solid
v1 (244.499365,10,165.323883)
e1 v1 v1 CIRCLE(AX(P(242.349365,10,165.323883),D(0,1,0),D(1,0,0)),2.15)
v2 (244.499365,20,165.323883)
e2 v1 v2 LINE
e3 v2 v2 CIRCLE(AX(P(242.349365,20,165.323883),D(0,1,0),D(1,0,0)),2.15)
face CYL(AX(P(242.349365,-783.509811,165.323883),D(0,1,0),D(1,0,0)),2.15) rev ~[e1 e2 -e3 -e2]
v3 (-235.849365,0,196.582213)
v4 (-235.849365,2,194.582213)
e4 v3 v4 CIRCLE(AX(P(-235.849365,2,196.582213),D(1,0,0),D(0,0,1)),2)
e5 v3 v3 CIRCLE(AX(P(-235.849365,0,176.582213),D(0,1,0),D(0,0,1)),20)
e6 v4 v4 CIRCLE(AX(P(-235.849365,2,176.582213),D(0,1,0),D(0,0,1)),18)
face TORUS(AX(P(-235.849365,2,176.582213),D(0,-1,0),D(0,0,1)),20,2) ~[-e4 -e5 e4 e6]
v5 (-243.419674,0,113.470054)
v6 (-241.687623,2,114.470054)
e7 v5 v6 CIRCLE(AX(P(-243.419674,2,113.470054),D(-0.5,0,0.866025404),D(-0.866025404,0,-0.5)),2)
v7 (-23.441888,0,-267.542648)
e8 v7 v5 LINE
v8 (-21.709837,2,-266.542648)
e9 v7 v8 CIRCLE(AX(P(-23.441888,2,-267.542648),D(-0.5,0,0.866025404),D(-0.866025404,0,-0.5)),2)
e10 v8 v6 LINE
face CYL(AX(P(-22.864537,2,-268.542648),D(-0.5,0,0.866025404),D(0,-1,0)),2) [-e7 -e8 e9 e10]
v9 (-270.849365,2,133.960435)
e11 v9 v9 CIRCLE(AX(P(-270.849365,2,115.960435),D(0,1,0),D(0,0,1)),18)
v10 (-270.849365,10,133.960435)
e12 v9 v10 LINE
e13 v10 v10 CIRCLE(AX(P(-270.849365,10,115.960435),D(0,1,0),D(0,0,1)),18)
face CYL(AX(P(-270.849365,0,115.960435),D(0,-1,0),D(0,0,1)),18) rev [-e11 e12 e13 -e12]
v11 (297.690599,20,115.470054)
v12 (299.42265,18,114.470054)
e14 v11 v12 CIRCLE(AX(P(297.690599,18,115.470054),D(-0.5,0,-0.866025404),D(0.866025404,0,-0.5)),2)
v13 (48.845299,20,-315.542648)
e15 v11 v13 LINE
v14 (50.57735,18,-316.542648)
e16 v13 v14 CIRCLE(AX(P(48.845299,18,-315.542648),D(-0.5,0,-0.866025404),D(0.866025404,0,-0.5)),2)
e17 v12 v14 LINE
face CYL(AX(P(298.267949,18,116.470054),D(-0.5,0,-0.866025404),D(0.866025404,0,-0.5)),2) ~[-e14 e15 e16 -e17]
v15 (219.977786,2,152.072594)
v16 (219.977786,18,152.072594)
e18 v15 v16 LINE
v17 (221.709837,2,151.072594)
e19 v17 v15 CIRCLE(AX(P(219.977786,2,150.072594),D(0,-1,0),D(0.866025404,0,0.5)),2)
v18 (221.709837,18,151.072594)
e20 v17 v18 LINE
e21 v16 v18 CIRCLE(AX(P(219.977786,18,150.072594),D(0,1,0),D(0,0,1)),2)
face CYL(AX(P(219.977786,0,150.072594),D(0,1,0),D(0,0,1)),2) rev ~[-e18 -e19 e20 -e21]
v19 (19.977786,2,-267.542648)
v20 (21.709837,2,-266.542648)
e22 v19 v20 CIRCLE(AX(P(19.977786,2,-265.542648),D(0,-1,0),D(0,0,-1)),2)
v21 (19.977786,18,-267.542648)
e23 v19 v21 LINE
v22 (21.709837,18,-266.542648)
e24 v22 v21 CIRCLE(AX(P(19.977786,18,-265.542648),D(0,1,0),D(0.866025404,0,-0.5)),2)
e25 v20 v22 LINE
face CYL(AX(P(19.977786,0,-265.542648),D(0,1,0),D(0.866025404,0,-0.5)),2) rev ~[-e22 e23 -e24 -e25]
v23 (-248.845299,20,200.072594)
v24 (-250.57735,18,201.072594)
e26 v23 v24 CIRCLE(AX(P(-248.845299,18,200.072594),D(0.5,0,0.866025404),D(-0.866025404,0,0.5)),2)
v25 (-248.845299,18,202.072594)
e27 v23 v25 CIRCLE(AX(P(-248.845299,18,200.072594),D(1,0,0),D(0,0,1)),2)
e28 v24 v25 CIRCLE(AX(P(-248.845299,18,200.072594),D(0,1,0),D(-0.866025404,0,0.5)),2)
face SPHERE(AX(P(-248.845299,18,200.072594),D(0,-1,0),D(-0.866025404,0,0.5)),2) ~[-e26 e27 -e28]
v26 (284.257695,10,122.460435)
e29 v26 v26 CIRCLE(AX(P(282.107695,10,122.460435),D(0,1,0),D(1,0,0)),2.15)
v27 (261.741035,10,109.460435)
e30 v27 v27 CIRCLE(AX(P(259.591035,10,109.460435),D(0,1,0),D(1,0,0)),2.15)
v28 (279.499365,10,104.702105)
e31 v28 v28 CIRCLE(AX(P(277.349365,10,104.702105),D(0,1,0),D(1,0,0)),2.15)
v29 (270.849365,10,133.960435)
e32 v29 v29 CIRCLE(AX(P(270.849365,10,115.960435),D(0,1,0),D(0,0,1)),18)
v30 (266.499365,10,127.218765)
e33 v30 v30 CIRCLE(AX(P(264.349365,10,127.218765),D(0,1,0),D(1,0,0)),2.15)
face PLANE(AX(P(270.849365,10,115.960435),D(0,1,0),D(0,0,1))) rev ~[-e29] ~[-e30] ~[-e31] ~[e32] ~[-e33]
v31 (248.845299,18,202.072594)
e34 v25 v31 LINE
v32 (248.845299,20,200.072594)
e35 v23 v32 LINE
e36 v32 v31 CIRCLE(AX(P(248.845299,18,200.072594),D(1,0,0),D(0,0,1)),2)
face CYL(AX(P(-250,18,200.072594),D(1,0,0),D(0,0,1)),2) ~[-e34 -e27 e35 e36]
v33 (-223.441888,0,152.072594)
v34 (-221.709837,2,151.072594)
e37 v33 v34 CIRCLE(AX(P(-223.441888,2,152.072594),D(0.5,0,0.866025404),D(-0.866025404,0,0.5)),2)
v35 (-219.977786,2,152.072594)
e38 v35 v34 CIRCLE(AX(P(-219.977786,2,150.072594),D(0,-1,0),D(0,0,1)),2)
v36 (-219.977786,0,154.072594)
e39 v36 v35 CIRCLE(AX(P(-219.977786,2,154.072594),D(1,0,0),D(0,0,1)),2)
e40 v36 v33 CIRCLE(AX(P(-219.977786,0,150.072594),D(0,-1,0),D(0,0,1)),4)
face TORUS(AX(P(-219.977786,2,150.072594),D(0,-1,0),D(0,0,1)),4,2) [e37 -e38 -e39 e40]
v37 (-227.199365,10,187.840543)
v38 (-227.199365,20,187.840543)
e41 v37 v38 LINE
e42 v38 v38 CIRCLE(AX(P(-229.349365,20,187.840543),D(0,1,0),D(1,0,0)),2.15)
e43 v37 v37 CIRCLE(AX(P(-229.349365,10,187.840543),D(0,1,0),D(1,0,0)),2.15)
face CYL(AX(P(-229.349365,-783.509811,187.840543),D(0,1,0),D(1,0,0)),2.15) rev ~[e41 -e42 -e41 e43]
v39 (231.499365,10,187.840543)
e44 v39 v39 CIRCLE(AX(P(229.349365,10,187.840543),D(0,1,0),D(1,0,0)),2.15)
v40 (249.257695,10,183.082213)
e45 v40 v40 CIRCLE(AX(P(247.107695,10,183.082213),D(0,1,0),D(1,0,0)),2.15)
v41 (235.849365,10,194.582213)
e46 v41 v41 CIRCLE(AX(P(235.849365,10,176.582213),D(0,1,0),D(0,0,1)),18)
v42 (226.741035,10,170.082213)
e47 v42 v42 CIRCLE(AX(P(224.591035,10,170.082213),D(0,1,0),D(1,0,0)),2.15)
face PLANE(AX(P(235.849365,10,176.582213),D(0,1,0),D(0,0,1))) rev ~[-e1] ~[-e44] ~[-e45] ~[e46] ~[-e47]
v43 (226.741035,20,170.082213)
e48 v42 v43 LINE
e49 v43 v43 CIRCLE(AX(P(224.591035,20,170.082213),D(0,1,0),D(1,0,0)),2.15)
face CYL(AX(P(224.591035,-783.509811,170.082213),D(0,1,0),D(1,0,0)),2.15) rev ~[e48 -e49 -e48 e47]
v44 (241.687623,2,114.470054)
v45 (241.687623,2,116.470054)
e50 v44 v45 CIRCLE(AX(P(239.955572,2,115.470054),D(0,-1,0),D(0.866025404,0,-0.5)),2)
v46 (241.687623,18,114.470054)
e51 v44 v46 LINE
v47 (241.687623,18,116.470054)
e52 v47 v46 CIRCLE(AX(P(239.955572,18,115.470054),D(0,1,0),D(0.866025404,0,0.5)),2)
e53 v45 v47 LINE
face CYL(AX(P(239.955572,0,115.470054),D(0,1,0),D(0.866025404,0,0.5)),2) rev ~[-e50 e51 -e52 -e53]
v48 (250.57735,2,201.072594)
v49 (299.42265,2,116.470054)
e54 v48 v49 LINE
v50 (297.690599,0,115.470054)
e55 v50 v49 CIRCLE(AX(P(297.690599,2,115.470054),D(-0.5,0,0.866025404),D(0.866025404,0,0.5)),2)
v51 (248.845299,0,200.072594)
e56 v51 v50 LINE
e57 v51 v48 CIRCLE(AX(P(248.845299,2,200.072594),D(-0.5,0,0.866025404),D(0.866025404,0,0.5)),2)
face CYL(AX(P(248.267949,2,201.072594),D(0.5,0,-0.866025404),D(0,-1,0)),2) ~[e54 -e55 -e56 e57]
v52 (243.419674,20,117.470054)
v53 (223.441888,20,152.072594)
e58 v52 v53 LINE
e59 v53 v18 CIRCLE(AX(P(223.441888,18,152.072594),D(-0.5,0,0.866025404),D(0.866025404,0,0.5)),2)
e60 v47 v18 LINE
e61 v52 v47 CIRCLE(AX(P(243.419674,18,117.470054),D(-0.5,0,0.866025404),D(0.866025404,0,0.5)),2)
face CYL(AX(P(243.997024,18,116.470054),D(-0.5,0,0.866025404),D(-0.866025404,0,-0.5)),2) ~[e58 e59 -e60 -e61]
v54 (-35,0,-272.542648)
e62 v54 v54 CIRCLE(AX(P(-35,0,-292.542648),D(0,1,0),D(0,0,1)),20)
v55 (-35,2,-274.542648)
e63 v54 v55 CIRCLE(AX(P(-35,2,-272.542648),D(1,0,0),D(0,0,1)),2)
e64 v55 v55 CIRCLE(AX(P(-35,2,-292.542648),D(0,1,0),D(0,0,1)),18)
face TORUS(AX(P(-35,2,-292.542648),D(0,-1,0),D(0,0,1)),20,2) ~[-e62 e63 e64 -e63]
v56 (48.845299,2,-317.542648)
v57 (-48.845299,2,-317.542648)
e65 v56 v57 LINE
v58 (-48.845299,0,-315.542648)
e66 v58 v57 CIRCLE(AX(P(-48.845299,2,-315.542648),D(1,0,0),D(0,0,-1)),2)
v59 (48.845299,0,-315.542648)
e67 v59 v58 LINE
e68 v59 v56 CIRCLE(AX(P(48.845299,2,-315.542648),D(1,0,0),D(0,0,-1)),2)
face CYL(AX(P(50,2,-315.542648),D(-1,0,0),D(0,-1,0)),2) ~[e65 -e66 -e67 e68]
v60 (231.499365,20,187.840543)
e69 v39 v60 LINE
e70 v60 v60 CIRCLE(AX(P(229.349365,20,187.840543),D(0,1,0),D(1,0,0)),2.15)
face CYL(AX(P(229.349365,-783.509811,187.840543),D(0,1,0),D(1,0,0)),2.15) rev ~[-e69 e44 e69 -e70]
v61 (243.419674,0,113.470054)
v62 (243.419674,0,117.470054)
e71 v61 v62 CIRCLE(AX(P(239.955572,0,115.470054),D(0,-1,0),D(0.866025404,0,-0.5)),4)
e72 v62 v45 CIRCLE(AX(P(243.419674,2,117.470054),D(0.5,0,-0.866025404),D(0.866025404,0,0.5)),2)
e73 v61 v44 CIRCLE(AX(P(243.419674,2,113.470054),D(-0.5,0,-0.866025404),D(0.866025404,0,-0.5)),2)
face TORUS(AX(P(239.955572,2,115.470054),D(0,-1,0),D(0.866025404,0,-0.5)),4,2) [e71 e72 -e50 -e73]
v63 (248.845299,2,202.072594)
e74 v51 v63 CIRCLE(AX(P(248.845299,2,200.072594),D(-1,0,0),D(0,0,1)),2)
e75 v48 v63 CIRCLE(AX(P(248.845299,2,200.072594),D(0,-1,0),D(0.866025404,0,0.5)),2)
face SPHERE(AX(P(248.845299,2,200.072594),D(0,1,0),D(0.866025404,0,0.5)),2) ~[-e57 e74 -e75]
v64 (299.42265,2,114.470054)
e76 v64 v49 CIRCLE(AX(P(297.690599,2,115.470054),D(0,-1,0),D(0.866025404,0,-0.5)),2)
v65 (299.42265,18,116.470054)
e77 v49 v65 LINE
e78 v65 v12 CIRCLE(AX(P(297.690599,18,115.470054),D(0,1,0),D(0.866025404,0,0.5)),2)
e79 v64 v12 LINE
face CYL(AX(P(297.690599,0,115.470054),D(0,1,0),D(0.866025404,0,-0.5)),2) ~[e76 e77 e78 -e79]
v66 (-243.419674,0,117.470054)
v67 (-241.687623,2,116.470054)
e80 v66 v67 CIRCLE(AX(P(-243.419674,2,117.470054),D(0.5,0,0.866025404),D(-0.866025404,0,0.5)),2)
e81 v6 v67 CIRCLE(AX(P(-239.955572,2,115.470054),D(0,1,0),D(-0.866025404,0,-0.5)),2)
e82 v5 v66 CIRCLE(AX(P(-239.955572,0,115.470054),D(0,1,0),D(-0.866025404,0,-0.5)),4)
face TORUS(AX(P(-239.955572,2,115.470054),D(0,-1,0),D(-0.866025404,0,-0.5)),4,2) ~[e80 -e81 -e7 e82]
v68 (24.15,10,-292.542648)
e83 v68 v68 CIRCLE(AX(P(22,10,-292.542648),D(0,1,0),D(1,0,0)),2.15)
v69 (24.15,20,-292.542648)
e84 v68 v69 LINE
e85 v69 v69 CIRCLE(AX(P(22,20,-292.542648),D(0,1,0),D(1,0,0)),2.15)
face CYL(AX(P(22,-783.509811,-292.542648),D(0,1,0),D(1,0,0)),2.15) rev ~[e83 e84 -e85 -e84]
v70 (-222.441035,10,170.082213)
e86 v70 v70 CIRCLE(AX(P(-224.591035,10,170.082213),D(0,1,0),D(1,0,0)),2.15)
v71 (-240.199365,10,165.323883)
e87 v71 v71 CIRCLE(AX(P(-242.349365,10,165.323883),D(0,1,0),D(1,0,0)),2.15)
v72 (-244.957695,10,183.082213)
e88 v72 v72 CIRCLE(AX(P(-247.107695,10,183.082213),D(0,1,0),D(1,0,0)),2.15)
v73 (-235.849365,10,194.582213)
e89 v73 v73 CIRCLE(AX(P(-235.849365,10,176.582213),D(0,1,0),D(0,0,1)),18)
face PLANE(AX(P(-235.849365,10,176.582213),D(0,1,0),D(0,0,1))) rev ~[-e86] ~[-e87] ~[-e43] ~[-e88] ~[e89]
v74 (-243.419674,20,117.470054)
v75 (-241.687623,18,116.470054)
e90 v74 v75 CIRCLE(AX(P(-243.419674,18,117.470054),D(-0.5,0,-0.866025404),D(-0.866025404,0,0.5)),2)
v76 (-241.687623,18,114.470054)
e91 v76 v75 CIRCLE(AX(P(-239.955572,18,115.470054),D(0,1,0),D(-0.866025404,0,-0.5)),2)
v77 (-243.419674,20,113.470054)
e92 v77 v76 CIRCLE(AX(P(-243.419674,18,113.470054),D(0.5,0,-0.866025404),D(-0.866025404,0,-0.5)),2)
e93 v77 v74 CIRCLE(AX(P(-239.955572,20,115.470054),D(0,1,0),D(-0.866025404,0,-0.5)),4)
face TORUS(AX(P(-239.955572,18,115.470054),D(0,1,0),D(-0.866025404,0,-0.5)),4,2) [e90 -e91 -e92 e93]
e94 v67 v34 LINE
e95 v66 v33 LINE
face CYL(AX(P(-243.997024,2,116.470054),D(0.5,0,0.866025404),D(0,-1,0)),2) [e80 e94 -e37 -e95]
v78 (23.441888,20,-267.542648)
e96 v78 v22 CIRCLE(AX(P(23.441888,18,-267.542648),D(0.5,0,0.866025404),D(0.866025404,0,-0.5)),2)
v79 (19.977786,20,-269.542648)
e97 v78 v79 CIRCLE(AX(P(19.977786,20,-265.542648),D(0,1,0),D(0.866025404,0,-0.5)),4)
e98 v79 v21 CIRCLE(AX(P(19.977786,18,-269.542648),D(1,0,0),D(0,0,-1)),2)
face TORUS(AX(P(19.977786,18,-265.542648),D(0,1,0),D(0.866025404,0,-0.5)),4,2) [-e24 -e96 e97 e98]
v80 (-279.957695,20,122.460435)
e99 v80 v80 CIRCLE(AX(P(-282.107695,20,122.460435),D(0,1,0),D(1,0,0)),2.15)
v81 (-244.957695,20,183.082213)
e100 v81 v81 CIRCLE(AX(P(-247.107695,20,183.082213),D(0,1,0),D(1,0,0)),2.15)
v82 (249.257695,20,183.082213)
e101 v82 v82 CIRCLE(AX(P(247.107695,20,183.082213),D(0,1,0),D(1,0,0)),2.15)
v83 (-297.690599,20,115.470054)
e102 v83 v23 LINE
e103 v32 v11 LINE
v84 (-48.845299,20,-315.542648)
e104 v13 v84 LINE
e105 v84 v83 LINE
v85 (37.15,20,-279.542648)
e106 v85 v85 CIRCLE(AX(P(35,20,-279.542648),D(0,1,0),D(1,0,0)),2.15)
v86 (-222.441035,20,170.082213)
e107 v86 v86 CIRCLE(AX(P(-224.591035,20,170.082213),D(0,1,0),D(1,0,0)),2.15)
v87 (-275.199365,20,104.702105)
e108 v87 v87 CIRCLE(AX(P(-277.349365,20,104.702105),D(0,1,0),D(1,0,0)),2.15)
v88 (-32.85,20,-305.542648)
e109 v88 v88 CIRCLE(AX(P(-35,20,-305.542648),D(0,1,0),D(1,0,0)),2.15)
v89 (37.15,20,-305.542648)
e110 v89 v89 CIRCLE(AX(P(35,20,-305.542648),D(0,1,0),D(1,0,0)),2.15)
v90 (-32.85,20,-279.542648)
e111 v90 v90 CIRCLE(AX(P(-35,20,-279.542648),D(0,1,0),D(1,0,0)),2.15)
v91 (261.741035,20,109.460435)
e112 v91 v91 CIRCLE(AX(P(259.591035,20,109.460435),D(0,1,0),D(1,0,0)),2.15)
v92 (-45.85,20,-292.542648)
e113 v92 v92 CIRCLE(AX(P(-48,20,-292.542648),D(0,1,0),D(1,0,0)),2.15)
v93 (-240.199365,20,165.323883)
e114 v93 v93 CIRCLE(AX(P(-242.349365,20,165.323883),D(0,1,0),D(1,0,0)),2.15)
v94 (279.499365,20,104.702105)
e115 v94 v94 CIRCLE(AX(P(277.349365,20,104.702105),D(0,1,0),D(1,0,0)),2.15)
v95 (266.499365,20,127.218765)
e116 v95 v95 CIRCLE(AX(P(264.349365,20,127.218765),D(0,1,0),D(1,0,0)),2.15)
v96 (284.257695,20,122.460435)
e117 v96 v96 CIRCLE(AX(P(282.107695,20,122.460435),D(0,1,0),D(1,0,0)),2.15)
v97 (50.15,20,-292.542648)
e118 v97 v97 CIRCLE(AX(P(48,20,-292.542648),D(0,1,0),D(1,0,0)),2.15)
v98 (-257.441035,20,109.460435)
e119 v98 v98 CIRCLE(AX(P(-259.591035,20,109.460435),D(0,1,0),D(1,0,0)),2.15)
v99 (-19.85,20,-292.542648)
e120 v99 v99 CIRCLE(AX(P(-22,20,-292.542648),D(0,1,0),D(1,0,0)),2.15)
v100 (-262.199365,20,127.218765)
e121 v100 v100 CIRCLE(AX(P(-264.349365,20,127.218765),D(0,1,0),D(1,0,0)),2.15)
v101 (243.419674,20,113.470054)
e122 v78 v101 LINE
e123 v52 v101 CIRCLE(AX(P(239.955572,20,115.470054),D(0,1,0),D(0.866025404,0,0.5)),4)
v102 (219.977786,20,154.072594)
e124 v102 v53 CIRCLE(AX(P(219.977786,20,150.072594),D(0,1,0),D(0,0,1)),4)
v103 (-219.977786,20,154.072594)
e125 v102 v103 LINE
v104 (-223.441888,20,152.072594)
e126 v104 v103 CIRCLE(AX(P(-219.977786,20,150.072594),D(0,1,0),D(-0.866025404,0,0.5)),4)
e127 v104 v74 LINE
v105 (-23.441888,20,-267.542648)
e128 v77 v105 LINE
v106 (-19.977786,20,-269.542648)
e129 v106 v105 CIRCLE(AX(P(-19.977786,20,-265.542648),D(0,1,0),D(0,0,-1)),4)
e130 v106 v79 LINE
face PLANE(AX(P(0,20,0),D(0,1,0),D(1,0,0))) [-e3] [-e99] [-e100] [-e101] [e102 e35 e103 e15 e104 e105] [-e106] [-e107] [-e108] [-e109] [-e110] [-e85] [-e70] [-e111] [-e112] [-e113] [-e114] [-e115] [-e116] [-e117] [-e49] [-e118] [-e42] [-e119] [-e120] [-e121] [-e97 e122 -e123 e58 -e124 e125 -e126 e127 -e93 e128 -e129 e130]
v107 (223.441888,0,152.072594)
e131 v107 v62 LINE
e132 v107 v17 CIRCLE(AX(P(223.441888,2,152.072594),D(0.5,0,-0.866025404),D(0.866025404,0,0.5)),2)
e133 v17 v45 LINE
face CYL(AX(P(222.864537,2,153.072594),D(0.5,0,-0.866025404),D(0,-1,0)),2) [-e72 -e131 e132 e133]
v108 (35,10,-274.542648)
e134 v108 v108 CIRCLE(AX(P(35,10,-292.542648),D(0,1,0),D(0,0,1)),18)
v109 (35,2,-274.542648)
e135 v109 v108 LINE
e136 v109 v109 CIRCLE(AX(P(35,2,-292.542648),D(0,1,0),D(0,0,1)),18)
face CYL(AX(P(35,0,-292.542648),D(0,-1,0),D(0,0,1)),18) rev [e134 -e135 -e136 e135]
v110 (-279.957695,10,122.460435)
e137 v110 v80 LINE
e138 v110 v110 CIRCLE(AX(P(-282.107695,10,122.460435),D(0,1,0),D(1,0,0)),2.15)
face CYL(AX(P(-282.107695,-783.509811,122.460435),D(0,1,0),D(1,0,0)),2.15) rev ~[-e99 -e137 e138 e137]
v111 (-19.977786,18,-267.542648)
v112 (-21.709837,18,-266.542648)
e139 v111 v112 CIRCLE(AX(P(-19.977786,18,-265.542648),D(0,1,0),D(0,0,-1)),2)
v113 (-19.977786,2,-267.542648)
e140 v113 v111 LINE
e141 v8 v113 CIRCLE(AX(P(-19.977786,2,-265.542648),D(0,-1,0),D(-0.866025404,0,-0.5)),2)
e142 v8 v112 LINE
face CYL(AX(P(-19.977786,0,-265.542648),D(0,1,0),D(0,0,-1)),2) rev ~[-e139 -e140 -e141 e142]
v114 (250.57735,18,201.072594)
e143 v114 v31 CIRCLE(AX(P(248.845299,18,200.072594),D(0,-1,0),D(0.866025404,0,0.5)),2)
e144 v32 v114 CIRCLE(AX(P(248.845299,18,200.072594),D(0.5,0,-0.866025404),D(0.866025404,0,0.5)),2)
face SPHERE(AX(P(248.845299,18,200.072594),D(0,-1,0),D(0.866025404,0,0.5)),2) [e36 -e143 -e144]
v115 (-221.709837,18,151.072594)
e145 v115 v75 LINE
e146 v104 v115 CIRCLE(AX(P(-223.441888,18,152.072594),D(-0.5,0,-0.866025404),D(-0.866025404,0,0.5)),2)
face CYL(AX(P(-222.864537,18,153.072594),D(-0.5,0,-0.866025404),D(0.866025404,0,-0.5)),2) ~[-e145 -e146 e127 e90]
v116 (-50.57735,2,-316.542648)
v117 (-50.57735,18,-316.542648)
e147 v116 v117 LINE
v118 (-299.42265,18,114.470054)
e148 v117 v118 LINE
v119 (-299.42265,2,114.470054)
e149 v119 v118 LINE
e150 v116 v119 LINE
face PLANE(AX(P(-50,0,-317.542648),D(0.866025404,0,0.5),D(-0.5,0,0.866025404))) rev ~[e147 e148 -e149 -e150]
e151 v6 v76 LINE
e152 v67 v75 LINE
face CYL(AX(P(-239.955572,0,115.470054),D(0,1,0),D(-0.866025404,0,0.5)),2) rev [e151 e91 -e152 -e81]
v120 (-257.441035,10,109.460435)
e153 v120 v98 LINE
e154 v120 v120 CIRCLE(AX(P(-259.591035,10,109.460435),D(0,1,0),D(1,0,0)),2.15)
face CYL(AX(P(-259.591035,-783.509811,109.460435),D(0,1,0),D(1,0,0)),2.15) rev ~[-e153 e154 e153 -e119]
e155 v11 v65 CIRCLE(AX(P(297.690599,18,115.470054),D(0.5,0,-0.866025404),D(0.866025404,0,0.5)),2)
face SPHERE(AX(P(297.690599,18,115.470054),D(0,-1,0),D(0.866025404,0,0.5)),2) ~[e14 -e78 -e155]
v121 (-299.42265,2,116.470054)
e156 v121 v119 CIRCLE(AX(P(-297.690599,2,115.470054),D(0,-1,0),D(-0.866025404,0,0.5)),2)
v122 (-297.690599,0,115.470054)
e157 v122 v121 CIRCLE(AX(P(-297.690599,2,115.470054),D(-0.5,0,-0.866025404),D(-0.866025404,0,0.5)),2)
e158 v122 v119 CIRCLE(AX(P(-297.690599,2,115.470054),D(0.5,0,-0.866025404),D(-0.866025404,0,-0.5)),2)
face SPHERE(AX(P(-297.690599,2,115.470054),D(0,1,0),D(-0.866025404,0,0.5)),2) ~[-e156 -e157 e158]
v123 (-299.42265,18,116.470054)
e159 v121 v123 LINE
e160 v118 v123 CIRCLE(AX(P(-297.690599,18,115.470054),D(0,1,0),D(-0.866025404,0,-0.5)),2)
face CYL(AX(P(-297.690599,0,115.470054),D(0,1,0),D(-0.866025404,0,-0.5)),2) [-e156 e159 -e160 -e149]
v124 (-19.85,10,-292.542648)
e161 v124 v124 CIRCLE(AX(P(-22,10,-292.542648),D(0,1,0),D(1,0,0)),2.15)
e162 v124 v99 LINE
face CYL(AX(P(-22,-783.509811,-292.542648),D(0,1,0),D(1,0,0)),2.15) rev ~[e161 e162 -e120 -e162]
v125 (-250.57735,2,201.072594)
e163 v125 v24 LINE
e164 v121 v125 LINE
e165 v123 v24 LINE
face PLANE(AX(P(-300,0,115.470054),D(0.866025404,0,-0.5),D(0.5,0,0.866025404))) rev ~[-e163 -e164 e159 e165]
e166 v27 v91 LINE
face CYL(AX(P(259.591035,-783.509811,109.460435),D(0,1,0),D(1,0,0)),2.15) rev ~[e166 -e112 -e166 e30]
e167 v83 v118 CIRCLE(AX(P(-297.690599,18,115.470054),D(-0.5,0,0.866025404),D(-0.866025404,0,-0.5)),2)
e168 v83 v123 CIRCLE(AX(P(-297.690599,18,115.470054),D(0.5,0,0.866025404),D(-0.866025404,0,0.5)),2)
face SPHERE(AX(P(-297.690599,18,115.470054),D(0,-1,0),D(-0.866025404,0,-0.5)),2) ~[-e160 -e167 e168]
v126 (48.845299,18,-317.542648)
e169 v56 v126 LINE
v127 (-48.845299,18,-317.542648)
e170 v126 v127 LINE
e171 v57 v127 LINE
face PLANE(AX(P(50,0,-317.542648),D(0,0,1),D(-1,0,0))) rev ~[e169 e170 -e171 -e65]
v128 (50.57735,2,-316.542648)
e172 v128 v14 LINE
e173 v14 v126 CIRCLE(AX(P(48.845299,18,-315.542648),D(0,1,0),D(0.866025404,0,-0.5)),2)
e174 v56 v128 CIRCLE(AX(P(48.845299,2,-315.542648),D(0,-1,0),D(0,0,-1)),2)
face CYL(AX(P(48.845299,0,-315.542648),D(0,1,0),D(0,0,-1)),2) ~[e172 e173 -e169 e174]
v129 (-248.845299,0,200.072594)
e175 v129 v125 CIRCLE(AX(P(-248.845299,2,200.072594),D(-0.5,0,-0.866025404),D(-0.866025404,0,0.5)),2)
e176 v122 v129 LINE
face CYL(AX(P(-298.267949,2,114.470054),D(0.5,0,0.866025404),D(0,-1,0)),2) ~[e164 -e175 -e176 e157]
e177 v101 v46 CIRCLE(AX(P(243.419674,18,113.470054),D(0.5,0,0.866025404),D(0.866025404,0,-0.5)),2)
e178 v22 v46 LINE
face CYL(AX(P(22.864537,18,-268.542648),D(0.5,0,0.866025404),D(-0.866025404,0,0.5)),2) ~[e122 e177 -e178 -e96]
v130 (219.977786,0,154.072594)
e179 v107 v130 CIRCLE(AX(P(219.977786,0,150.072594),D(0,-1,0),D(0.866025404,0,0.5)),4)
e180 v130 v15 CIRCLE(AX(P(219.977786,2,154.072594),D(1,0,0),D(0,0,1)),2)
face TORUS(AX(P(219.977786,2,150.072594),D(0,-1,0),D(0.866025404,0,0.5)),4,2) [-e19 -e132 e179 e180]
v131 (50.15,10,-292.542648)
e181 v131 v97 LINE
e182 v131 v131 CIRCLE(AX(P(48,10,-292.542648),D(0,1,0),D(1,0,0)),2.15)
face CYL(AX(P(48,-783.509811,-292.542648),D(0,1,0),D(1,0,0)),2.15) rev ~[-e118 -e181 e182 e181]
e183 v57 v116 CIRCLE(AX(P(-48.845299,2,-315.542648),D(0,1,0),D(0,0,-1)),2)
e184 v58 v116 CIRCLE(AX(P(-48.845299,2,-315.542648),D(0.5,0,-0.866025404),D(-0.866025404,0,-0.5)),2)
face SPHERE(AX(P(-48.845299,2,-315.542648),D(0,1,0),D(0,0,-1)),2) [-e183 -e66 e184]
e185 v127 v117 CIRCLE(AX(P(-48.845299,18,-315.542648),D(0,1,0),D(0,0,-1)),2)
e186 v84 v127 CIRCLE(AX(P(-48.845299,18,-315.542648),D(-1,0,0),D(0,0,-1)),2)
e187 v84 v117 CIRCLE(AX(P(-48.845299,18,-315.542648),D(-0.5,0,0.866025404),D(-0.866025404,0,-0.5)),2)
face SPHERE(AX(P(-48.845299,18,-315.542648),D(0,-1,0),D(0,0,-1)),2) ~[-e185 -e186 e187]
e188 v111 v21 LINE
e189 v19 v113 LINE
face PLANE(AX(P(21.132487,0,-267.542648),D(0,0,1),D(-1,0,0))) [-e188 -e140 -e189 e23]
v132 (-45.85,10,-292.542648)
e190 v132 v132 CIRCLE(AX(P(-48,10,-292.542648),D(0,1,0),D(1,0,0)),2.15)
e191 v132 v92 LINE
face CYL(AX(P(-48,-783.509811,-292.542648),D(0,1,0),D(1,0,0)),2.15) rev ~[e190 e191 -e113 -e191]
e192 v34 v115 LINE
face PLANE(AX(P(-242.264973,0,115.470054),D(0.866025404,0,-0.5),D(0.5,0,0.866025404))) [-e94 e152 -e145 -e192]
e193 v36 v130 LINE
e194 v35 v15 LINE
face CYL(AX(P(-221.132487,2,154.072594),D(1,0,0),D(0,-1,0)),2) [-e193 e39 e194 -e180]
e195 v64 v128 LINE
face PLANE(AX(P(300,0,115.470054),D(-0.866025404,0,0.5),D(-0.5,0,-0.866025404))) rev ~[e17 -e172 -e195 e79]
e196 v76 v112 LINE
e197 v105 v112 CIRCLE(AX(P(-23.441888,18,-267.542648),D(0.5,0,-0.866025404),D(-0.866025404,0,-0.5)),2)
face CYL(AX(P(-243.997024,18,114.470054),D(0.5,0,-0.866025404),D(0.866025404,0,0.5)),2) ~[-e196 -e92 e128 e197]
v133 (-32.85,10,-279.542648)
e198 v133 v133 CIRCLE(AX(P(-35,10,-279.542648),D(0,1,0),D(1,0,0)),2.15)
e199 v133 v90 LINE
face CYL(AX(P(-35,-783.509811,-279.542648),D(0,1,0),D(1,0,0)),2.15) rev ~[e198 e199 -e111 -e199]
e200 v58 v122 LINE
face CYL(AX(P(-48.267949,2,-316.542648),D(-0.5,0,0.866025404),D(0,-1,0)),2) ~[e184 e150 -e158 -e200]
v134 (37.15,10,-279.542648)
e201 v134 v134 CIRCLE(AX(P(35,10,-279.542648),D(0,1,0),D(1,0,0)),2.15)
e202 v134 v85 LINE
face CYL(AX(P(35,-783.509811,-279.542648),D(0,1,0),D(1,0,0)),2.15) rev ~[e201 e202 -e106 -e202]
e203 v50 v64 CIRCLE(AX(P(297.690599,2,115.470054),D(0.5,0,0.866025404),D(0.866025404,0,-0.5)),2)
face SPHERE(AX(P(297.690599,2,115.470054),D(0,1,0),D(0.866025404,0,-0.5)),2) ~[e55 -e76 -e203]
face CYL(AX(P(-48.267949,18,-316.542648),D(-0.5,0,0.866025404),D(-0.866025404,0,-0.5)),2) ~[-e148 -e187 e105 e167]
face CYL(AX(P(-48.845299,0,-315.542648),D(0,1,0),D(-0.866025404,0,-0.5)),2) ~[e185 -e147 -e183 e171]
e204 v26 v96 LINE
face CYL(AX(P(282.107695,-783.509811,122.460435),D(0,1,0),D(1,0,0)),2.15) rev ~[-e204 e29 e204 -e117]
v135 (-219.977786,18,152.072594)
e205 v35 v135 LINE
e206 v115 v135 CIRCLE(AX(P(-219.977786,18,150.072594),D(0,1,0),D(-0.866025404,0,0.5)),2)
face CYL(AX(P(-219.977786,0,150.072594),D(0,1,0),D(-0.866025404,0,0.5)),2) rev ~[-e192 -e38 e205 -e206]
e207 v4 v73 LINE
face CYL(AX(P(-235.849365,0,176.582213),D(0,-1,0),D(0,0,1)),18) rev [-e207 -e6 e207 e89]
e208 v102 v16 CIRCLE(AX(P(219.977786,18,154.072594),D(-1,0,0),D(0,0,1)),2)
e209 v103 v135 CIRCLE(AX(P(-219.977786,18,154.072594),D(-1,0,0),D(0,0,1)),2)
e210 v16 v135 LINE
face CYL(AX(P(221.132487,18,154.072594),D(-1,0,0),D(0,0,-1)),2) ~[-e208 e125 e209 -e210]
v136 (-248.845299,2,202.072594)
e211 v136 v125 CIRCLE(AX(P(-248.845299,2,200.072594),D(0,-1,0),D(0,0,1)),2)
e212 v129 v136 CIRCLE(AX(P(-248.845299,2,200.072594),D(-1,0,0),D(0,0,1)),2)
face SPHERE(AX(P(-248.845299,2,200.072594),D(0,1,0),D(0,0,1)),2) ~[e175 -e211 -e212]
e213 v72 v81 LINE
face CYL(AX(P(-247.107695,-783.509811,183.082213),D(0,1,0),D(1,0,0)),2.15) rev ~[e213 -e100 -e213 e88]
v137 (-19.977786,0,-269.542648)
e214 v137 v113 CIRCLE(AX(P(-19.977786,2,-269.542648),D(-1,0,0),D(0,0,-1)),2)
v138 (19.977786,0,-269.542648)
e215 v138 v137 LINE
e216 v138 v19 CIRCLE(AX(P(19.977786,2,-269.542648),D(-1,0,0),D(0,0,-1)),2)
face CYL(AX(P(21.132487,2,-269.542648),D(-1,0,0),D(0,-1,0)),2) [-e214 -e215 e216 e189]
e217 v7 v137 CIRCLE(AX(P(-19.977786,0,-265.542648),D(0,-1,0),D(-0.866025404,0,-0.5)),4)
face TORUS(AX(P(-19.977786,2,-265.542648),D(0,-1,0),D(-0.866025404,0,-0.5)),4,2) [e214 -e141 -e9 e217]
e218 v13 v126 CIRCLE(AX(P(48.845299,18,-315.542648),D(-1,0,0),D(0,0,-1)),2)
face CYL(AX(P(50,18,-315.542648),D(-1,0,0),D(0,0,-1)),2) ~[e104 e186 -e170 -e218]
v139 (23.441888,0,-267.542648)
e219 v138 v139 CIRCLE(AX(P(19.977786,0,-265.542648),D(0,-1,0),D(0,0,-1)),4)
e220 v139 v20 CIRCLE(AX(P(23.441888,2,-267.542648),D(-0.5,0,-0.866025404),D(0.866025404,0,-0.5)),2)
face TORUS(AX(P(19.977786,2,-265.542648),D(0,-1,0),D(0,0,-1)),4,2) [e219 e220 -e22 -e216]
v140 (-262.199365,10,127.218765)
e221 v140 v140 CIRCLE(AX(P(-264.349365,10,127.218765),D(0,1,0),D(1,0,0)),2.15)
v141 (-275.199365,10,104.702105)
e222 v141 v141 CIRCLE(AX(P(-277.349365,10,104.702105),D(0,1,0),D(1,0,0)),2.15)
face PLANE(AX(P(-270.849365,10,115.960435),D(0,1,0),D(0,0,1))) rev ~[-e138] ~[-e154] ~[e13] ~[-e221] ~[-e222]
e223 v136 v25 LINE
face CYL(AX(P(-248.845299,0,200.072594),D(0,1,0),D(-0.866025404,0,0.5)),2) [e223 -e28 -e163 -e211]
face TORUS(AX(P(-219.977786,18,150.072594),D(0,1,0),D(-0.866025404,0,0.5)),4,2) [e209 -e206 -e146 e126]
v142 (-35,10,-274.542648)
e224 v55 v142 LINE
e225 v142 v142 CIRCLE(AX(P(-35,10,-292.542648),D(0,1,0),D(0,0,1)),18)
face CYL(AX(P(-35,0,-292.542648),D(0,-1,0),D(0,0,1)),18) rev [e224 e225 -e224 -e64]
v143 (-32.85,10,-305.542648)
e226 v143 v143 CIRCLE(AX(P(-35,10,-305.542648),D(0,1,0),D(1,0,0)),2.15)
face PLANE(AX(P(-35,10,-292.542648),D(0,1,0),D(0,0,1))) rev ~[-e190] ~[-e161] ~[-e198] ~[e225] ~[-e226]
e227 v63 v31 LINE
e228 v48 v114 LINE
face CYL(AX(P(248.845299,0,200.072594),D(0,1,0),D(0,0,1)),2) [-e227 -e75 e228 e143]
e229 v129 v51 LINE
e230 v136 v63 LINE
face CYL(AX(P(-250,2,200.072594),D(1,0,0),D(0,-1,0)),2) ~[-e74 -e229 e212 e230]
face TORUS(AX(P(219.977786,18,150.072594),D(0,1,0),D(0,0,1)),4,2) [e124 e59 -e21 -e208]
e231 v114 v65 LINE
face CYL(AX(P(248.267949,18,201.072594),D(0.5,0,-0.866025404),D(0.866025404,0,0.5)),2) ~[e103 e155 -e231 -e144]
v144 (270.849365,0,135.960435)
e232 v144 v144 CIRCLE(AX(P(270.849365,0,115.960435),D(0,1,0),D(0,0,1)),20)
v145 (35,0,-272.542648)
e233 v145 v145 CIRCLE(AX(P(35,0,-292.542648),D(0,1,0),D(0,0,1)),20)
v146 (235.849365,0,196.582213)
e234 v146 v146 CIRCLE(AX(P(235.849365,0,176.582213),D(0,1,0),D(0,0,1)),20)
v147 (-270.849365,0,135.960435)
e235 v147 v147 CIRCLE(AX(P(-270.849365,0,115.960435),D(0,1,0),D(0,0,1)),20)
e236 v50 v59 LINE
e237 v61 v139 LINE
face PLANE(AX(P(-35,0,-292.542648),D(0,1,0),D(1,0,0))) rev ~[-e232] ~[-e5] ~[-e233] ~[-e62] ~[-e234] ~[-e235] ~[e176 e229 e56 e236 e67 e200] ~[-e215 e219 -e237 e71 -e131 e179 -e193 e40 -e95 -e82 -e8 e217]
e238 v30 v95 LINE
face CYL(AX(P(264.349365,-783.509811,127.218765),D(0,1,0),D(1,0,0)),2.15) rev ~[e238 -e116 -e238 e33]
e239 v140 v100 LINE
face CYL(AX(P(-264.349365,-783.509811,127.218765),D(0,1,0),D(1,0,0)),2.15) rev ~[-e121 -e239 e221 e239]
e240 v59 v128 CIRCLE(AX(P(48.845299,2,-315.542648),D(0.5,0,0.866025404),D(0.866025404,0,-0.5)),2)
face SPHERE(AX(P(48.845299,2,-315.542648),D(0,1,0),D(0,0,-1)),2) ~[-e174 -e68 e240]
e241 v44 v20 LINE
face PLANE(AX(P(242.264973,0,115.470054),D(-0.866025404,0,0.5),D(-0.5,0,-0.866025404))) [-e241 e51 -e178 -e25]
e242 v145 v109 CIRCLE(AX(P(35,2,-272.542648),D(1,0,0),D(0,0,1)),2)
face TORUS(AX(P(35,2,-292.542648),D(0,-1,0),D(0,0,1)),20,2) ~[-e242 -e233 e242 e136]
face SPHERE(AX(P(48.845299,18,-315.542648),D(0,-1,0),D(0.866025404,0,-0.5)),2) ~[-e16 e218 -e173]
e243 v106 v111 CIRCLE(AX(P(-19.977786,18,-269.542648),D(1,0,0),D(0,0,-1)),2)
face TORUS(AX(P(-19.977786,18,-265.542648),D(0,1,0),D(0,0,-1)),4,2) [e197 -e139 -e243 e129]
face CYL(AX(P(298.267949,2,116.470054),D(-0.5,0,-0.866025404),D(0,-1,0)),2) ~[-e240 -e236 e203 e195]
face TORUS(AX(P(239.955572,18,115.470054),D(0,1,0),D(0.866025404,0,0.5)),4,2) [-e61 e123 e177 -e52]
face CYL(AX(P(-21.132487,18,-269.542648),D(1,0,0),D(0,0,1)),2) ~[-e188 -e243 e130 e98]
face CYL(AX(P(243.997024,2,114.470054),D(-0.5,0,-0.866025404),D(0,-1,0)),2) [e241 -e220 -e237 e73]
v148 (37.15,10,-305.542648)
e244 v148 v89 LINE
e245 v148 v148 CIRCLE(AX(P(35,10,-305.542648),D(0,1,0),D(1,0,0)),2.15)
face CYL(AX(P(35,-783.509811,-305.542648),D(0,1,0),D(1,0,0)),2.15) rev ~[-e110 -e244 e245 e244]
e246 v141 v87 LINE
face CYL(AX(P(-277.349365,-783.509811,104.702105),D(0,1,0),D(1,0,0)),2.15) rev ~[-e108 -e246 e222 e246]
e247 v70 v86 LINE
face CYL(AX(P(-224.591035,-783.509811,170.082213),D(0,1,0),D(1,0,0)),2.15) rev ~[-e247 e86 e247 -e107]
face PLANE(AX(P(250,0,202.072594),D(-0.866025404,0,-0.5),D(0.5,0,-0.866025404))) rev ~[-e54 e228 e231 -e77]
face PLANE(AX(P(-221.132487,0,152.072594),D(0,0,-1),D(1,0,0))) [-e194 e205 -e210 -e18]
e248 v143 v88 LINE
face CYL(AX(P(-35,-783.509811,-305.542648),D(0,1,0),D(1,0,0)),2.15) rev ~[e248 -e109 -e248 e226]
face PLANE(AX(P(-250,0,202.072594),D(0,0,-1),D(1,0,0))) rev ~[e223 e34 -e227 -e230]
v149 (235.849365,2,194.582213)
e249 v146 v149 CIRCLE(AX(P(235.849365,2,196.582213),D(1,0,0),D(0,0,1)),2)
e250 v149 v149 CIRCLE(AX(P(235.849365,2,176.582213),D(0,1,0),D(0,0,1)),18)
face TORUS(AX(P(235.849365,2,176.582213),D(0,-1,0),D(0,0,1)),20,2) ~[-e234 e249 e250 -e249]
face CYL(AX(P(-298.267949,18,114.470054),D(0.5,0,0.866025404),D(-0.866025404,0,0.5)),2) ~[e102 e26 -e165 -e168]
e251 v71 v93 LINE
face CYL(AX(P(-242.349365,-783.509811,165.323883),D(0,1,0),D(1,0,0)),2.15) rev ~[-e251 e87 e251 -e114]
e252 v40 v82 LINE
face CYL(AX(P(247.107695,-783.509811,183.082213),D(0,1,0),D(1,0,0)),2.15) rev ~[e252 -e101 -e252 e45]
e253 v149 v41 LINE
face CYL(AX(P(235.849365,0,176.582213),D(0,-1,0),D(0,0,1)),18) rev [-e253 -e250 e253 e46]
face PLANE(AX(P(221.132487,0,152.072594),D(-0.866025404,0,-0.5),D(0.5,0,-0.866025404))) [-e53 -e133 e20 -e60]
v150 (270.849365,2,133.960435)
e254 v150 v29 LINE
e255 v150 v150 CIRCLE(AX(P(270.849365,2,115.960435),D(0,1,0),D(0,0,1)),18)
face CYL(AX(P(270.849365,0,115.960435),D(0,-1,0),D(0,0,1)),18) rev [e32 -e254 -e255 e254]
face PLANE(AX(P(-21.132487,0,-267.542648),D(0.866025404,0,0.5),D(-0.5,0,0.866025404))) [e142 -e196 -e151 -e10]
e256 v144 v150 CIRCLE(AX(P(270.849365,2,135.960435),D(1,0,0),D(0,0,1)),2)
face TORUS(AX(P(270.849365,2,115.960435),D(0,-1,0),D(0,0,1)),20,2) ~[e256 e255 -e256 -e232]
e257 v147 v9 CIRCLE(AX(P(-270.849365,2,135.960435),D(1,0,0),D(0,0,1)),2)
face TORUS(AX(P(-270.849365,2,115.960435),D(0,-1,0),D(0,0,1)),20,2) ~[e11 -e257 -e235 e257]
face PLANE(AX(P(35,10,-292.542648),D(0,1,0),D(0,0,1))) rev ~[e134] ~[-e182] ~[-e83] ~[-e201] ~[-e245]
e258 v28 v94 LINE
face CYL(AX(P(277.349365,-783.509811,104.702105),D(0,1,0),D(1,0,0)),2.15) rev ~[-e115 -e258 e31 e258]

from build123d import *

# Parameters (mm, degrees)
BOSS_EXTRUDE1_DEPTH  = 20
SKETCH1_3_R          = 18
CUT_EXTRUDE1_DEPTH   = 10
CUT_EXTRUDE2_DEPTH   = 438.3023363
FILLET1_R            = 2
M4_CLEARANCE_HOLE1_D = 4.3


with BuildPart() as part:
    # Sketch1 → Boss-Extrude1 (new body)
    with BuildSketch(Plane(origin=(0, 0, 0), x_dir=(1, 0, 0), z_dir=(0, 1, 0))):
        Polygon((50, 317.542648054), (-50, 317.542648054), (-300, -115.470053838), (-250, -202.072594216), (250, -202.072594216), (300, -115.470053838), align=None)
    extrude(amount=BOSS_EXTRUDE1_DEPTH)

    # Sketch1<3> → Cut-Extrude1 (cut)
    with BuildSketch(Plane(origin=(0, 0, 0), x_dir=(1, 0, 0), z_dir=(0, 1, 0))):
        with Locations((-270.849364905, -115.960434895)):
            Circle(SKETCH1_3_R)
        with Locations((-235.849364905, -176.58221316)):
            Circle(SKETCH1_3_R)
        with Locations((-35, 292.542648054)):
            Circle(SKETCH1_3_R)
        with Locations((35, 292.542648054)):
            Circle(SKETCH1_3_R)
        with Locations((270.849364905, -115.960434895)):
            Circle(SKETCH1_3_R)
        with Locations((235.849364905, -176.58221316)):
            Circle(SKETCH1_3_R)
    extrude(amount=CUT_EXTRUDE1_DEPTH, mode=Mode.SUBTRACT)

    # Sketch2 → Cut-Extrude2 (cut, through all)
    with BuildSketch(Plane.XZ):
        Polygon((-242.264973081, 115.470053838), (-221.132486541, 152.072594216), (221.132486541, 152.072594216), (242.264973081, 115.470053838), (21.132486541, -267.542648054), (-21.132486541, -267.542648054), align=None)
    extrude(amount=-CUT_EXTRUDE2_DEPTH, mode=Mode.SUBTRACT)

    # Fillet1
    fillet1_edges = [part.edges().sort_by_distance(p)[0] for p in [
        (0, 20, -317.542648054),
        (175, 20, -101.036297108),
        (275, 20, 158.771324027),
        (0, 20, 202.072594216),
        (-275, 20, 158.771324027),
        (-175, 20, -101.036297108),
        (-231.698729811, 20, 133.771324027),
        (0, 20, 152.072594216),
        (231.698729811, 20, 133.771324027),
        (131.698729811, 20, -76.036297108),
        (0, 20, -267.542648054),
        (-131.698729811, 20, -76.036297108),
        (-53, 0, -292.542648054),
        (252.849364905, 0, 115.960434895),
        (-253.849364905, 0, 176.58221316),
        (-275, 0, 158.771324027),
        (0, 0, 202.072594216),
        (275, 0, 158.771324027),
        (175, 0, -101.036297108),
        (0, 0, -317.542648054),
        (-175, 0, -101.036297108),
        (-288.849364905, 0, 115.960434895),
        (217.849364905, 0, 176.58221316),
        (17, 0, -292.542648054),
        (131.698729811, 0, -76.036297108),
        (231.698729811, 0, 133.771324027),
        (0, 0, 152.072594216),
        (-231.698729811, 0, 133.771324027),
        (-131.698729811, 0, -76.036297108),
        (0, 0, -267.542648054),
        (21.132486541, 10, -267.542648054),
        (-21.132486541, 10, -267.542648054),
        (242.264973081, 10, 115.470053838),
        (221.132486541, 10, 152.072594216),
        (-221.132486541, 10, 152.072594216),
        (-242.264973081, 10, 115.470053838),
        (250, 10, 202.072594216),
        (300, 10, 115.470053838),
        (50, 10, -317.542648054),
        (-50, 10, -317.542648054),
        (-250, 10, 202.072594216),
        (-300, 10, 115.470053838),
    ]]
    fillet(fillet1_edges, radius=FILLET1_R)

    # M4 Clearance Hole1 (through all)
    with Locations(Plane(origin=(0, 10, 0), x_dir=(-1, 0, 0), z_dir=(0, -1, 0))):
        with Locations((-35, 279.542648054), (-35, 305.542648054), (-48, 292.542648054), (-22, 292.542648054), (35, 279.542648054), (35, 305.542648054), (22, 292.542648054), (48, 292.542648054), (264.349364905, -127.218765144), (277.349364905, -104.702104645), (259.591034656, -109.460434895), (282.107695155, -122.460434895), (229.349364905, -187.840543409), (247.107695155, -183.08221316), (224.591034656, -170.08221316), (242.349364905, -165.32388291), (-247.107695155, -183.08221316), (-224.591034656, -170.08221316), (-229.349364905, -187.840543409), (-242.349364905, -165.32388291), (-259.591034656, -109.460434895), (-277.349364905, -104.702104645), (-264.349364905, -127.218765144), (-282.107695155, -122.460434895)):
            Hole(M4_CLEARANCE_HOLE1_D / 2)


solid = part.part
